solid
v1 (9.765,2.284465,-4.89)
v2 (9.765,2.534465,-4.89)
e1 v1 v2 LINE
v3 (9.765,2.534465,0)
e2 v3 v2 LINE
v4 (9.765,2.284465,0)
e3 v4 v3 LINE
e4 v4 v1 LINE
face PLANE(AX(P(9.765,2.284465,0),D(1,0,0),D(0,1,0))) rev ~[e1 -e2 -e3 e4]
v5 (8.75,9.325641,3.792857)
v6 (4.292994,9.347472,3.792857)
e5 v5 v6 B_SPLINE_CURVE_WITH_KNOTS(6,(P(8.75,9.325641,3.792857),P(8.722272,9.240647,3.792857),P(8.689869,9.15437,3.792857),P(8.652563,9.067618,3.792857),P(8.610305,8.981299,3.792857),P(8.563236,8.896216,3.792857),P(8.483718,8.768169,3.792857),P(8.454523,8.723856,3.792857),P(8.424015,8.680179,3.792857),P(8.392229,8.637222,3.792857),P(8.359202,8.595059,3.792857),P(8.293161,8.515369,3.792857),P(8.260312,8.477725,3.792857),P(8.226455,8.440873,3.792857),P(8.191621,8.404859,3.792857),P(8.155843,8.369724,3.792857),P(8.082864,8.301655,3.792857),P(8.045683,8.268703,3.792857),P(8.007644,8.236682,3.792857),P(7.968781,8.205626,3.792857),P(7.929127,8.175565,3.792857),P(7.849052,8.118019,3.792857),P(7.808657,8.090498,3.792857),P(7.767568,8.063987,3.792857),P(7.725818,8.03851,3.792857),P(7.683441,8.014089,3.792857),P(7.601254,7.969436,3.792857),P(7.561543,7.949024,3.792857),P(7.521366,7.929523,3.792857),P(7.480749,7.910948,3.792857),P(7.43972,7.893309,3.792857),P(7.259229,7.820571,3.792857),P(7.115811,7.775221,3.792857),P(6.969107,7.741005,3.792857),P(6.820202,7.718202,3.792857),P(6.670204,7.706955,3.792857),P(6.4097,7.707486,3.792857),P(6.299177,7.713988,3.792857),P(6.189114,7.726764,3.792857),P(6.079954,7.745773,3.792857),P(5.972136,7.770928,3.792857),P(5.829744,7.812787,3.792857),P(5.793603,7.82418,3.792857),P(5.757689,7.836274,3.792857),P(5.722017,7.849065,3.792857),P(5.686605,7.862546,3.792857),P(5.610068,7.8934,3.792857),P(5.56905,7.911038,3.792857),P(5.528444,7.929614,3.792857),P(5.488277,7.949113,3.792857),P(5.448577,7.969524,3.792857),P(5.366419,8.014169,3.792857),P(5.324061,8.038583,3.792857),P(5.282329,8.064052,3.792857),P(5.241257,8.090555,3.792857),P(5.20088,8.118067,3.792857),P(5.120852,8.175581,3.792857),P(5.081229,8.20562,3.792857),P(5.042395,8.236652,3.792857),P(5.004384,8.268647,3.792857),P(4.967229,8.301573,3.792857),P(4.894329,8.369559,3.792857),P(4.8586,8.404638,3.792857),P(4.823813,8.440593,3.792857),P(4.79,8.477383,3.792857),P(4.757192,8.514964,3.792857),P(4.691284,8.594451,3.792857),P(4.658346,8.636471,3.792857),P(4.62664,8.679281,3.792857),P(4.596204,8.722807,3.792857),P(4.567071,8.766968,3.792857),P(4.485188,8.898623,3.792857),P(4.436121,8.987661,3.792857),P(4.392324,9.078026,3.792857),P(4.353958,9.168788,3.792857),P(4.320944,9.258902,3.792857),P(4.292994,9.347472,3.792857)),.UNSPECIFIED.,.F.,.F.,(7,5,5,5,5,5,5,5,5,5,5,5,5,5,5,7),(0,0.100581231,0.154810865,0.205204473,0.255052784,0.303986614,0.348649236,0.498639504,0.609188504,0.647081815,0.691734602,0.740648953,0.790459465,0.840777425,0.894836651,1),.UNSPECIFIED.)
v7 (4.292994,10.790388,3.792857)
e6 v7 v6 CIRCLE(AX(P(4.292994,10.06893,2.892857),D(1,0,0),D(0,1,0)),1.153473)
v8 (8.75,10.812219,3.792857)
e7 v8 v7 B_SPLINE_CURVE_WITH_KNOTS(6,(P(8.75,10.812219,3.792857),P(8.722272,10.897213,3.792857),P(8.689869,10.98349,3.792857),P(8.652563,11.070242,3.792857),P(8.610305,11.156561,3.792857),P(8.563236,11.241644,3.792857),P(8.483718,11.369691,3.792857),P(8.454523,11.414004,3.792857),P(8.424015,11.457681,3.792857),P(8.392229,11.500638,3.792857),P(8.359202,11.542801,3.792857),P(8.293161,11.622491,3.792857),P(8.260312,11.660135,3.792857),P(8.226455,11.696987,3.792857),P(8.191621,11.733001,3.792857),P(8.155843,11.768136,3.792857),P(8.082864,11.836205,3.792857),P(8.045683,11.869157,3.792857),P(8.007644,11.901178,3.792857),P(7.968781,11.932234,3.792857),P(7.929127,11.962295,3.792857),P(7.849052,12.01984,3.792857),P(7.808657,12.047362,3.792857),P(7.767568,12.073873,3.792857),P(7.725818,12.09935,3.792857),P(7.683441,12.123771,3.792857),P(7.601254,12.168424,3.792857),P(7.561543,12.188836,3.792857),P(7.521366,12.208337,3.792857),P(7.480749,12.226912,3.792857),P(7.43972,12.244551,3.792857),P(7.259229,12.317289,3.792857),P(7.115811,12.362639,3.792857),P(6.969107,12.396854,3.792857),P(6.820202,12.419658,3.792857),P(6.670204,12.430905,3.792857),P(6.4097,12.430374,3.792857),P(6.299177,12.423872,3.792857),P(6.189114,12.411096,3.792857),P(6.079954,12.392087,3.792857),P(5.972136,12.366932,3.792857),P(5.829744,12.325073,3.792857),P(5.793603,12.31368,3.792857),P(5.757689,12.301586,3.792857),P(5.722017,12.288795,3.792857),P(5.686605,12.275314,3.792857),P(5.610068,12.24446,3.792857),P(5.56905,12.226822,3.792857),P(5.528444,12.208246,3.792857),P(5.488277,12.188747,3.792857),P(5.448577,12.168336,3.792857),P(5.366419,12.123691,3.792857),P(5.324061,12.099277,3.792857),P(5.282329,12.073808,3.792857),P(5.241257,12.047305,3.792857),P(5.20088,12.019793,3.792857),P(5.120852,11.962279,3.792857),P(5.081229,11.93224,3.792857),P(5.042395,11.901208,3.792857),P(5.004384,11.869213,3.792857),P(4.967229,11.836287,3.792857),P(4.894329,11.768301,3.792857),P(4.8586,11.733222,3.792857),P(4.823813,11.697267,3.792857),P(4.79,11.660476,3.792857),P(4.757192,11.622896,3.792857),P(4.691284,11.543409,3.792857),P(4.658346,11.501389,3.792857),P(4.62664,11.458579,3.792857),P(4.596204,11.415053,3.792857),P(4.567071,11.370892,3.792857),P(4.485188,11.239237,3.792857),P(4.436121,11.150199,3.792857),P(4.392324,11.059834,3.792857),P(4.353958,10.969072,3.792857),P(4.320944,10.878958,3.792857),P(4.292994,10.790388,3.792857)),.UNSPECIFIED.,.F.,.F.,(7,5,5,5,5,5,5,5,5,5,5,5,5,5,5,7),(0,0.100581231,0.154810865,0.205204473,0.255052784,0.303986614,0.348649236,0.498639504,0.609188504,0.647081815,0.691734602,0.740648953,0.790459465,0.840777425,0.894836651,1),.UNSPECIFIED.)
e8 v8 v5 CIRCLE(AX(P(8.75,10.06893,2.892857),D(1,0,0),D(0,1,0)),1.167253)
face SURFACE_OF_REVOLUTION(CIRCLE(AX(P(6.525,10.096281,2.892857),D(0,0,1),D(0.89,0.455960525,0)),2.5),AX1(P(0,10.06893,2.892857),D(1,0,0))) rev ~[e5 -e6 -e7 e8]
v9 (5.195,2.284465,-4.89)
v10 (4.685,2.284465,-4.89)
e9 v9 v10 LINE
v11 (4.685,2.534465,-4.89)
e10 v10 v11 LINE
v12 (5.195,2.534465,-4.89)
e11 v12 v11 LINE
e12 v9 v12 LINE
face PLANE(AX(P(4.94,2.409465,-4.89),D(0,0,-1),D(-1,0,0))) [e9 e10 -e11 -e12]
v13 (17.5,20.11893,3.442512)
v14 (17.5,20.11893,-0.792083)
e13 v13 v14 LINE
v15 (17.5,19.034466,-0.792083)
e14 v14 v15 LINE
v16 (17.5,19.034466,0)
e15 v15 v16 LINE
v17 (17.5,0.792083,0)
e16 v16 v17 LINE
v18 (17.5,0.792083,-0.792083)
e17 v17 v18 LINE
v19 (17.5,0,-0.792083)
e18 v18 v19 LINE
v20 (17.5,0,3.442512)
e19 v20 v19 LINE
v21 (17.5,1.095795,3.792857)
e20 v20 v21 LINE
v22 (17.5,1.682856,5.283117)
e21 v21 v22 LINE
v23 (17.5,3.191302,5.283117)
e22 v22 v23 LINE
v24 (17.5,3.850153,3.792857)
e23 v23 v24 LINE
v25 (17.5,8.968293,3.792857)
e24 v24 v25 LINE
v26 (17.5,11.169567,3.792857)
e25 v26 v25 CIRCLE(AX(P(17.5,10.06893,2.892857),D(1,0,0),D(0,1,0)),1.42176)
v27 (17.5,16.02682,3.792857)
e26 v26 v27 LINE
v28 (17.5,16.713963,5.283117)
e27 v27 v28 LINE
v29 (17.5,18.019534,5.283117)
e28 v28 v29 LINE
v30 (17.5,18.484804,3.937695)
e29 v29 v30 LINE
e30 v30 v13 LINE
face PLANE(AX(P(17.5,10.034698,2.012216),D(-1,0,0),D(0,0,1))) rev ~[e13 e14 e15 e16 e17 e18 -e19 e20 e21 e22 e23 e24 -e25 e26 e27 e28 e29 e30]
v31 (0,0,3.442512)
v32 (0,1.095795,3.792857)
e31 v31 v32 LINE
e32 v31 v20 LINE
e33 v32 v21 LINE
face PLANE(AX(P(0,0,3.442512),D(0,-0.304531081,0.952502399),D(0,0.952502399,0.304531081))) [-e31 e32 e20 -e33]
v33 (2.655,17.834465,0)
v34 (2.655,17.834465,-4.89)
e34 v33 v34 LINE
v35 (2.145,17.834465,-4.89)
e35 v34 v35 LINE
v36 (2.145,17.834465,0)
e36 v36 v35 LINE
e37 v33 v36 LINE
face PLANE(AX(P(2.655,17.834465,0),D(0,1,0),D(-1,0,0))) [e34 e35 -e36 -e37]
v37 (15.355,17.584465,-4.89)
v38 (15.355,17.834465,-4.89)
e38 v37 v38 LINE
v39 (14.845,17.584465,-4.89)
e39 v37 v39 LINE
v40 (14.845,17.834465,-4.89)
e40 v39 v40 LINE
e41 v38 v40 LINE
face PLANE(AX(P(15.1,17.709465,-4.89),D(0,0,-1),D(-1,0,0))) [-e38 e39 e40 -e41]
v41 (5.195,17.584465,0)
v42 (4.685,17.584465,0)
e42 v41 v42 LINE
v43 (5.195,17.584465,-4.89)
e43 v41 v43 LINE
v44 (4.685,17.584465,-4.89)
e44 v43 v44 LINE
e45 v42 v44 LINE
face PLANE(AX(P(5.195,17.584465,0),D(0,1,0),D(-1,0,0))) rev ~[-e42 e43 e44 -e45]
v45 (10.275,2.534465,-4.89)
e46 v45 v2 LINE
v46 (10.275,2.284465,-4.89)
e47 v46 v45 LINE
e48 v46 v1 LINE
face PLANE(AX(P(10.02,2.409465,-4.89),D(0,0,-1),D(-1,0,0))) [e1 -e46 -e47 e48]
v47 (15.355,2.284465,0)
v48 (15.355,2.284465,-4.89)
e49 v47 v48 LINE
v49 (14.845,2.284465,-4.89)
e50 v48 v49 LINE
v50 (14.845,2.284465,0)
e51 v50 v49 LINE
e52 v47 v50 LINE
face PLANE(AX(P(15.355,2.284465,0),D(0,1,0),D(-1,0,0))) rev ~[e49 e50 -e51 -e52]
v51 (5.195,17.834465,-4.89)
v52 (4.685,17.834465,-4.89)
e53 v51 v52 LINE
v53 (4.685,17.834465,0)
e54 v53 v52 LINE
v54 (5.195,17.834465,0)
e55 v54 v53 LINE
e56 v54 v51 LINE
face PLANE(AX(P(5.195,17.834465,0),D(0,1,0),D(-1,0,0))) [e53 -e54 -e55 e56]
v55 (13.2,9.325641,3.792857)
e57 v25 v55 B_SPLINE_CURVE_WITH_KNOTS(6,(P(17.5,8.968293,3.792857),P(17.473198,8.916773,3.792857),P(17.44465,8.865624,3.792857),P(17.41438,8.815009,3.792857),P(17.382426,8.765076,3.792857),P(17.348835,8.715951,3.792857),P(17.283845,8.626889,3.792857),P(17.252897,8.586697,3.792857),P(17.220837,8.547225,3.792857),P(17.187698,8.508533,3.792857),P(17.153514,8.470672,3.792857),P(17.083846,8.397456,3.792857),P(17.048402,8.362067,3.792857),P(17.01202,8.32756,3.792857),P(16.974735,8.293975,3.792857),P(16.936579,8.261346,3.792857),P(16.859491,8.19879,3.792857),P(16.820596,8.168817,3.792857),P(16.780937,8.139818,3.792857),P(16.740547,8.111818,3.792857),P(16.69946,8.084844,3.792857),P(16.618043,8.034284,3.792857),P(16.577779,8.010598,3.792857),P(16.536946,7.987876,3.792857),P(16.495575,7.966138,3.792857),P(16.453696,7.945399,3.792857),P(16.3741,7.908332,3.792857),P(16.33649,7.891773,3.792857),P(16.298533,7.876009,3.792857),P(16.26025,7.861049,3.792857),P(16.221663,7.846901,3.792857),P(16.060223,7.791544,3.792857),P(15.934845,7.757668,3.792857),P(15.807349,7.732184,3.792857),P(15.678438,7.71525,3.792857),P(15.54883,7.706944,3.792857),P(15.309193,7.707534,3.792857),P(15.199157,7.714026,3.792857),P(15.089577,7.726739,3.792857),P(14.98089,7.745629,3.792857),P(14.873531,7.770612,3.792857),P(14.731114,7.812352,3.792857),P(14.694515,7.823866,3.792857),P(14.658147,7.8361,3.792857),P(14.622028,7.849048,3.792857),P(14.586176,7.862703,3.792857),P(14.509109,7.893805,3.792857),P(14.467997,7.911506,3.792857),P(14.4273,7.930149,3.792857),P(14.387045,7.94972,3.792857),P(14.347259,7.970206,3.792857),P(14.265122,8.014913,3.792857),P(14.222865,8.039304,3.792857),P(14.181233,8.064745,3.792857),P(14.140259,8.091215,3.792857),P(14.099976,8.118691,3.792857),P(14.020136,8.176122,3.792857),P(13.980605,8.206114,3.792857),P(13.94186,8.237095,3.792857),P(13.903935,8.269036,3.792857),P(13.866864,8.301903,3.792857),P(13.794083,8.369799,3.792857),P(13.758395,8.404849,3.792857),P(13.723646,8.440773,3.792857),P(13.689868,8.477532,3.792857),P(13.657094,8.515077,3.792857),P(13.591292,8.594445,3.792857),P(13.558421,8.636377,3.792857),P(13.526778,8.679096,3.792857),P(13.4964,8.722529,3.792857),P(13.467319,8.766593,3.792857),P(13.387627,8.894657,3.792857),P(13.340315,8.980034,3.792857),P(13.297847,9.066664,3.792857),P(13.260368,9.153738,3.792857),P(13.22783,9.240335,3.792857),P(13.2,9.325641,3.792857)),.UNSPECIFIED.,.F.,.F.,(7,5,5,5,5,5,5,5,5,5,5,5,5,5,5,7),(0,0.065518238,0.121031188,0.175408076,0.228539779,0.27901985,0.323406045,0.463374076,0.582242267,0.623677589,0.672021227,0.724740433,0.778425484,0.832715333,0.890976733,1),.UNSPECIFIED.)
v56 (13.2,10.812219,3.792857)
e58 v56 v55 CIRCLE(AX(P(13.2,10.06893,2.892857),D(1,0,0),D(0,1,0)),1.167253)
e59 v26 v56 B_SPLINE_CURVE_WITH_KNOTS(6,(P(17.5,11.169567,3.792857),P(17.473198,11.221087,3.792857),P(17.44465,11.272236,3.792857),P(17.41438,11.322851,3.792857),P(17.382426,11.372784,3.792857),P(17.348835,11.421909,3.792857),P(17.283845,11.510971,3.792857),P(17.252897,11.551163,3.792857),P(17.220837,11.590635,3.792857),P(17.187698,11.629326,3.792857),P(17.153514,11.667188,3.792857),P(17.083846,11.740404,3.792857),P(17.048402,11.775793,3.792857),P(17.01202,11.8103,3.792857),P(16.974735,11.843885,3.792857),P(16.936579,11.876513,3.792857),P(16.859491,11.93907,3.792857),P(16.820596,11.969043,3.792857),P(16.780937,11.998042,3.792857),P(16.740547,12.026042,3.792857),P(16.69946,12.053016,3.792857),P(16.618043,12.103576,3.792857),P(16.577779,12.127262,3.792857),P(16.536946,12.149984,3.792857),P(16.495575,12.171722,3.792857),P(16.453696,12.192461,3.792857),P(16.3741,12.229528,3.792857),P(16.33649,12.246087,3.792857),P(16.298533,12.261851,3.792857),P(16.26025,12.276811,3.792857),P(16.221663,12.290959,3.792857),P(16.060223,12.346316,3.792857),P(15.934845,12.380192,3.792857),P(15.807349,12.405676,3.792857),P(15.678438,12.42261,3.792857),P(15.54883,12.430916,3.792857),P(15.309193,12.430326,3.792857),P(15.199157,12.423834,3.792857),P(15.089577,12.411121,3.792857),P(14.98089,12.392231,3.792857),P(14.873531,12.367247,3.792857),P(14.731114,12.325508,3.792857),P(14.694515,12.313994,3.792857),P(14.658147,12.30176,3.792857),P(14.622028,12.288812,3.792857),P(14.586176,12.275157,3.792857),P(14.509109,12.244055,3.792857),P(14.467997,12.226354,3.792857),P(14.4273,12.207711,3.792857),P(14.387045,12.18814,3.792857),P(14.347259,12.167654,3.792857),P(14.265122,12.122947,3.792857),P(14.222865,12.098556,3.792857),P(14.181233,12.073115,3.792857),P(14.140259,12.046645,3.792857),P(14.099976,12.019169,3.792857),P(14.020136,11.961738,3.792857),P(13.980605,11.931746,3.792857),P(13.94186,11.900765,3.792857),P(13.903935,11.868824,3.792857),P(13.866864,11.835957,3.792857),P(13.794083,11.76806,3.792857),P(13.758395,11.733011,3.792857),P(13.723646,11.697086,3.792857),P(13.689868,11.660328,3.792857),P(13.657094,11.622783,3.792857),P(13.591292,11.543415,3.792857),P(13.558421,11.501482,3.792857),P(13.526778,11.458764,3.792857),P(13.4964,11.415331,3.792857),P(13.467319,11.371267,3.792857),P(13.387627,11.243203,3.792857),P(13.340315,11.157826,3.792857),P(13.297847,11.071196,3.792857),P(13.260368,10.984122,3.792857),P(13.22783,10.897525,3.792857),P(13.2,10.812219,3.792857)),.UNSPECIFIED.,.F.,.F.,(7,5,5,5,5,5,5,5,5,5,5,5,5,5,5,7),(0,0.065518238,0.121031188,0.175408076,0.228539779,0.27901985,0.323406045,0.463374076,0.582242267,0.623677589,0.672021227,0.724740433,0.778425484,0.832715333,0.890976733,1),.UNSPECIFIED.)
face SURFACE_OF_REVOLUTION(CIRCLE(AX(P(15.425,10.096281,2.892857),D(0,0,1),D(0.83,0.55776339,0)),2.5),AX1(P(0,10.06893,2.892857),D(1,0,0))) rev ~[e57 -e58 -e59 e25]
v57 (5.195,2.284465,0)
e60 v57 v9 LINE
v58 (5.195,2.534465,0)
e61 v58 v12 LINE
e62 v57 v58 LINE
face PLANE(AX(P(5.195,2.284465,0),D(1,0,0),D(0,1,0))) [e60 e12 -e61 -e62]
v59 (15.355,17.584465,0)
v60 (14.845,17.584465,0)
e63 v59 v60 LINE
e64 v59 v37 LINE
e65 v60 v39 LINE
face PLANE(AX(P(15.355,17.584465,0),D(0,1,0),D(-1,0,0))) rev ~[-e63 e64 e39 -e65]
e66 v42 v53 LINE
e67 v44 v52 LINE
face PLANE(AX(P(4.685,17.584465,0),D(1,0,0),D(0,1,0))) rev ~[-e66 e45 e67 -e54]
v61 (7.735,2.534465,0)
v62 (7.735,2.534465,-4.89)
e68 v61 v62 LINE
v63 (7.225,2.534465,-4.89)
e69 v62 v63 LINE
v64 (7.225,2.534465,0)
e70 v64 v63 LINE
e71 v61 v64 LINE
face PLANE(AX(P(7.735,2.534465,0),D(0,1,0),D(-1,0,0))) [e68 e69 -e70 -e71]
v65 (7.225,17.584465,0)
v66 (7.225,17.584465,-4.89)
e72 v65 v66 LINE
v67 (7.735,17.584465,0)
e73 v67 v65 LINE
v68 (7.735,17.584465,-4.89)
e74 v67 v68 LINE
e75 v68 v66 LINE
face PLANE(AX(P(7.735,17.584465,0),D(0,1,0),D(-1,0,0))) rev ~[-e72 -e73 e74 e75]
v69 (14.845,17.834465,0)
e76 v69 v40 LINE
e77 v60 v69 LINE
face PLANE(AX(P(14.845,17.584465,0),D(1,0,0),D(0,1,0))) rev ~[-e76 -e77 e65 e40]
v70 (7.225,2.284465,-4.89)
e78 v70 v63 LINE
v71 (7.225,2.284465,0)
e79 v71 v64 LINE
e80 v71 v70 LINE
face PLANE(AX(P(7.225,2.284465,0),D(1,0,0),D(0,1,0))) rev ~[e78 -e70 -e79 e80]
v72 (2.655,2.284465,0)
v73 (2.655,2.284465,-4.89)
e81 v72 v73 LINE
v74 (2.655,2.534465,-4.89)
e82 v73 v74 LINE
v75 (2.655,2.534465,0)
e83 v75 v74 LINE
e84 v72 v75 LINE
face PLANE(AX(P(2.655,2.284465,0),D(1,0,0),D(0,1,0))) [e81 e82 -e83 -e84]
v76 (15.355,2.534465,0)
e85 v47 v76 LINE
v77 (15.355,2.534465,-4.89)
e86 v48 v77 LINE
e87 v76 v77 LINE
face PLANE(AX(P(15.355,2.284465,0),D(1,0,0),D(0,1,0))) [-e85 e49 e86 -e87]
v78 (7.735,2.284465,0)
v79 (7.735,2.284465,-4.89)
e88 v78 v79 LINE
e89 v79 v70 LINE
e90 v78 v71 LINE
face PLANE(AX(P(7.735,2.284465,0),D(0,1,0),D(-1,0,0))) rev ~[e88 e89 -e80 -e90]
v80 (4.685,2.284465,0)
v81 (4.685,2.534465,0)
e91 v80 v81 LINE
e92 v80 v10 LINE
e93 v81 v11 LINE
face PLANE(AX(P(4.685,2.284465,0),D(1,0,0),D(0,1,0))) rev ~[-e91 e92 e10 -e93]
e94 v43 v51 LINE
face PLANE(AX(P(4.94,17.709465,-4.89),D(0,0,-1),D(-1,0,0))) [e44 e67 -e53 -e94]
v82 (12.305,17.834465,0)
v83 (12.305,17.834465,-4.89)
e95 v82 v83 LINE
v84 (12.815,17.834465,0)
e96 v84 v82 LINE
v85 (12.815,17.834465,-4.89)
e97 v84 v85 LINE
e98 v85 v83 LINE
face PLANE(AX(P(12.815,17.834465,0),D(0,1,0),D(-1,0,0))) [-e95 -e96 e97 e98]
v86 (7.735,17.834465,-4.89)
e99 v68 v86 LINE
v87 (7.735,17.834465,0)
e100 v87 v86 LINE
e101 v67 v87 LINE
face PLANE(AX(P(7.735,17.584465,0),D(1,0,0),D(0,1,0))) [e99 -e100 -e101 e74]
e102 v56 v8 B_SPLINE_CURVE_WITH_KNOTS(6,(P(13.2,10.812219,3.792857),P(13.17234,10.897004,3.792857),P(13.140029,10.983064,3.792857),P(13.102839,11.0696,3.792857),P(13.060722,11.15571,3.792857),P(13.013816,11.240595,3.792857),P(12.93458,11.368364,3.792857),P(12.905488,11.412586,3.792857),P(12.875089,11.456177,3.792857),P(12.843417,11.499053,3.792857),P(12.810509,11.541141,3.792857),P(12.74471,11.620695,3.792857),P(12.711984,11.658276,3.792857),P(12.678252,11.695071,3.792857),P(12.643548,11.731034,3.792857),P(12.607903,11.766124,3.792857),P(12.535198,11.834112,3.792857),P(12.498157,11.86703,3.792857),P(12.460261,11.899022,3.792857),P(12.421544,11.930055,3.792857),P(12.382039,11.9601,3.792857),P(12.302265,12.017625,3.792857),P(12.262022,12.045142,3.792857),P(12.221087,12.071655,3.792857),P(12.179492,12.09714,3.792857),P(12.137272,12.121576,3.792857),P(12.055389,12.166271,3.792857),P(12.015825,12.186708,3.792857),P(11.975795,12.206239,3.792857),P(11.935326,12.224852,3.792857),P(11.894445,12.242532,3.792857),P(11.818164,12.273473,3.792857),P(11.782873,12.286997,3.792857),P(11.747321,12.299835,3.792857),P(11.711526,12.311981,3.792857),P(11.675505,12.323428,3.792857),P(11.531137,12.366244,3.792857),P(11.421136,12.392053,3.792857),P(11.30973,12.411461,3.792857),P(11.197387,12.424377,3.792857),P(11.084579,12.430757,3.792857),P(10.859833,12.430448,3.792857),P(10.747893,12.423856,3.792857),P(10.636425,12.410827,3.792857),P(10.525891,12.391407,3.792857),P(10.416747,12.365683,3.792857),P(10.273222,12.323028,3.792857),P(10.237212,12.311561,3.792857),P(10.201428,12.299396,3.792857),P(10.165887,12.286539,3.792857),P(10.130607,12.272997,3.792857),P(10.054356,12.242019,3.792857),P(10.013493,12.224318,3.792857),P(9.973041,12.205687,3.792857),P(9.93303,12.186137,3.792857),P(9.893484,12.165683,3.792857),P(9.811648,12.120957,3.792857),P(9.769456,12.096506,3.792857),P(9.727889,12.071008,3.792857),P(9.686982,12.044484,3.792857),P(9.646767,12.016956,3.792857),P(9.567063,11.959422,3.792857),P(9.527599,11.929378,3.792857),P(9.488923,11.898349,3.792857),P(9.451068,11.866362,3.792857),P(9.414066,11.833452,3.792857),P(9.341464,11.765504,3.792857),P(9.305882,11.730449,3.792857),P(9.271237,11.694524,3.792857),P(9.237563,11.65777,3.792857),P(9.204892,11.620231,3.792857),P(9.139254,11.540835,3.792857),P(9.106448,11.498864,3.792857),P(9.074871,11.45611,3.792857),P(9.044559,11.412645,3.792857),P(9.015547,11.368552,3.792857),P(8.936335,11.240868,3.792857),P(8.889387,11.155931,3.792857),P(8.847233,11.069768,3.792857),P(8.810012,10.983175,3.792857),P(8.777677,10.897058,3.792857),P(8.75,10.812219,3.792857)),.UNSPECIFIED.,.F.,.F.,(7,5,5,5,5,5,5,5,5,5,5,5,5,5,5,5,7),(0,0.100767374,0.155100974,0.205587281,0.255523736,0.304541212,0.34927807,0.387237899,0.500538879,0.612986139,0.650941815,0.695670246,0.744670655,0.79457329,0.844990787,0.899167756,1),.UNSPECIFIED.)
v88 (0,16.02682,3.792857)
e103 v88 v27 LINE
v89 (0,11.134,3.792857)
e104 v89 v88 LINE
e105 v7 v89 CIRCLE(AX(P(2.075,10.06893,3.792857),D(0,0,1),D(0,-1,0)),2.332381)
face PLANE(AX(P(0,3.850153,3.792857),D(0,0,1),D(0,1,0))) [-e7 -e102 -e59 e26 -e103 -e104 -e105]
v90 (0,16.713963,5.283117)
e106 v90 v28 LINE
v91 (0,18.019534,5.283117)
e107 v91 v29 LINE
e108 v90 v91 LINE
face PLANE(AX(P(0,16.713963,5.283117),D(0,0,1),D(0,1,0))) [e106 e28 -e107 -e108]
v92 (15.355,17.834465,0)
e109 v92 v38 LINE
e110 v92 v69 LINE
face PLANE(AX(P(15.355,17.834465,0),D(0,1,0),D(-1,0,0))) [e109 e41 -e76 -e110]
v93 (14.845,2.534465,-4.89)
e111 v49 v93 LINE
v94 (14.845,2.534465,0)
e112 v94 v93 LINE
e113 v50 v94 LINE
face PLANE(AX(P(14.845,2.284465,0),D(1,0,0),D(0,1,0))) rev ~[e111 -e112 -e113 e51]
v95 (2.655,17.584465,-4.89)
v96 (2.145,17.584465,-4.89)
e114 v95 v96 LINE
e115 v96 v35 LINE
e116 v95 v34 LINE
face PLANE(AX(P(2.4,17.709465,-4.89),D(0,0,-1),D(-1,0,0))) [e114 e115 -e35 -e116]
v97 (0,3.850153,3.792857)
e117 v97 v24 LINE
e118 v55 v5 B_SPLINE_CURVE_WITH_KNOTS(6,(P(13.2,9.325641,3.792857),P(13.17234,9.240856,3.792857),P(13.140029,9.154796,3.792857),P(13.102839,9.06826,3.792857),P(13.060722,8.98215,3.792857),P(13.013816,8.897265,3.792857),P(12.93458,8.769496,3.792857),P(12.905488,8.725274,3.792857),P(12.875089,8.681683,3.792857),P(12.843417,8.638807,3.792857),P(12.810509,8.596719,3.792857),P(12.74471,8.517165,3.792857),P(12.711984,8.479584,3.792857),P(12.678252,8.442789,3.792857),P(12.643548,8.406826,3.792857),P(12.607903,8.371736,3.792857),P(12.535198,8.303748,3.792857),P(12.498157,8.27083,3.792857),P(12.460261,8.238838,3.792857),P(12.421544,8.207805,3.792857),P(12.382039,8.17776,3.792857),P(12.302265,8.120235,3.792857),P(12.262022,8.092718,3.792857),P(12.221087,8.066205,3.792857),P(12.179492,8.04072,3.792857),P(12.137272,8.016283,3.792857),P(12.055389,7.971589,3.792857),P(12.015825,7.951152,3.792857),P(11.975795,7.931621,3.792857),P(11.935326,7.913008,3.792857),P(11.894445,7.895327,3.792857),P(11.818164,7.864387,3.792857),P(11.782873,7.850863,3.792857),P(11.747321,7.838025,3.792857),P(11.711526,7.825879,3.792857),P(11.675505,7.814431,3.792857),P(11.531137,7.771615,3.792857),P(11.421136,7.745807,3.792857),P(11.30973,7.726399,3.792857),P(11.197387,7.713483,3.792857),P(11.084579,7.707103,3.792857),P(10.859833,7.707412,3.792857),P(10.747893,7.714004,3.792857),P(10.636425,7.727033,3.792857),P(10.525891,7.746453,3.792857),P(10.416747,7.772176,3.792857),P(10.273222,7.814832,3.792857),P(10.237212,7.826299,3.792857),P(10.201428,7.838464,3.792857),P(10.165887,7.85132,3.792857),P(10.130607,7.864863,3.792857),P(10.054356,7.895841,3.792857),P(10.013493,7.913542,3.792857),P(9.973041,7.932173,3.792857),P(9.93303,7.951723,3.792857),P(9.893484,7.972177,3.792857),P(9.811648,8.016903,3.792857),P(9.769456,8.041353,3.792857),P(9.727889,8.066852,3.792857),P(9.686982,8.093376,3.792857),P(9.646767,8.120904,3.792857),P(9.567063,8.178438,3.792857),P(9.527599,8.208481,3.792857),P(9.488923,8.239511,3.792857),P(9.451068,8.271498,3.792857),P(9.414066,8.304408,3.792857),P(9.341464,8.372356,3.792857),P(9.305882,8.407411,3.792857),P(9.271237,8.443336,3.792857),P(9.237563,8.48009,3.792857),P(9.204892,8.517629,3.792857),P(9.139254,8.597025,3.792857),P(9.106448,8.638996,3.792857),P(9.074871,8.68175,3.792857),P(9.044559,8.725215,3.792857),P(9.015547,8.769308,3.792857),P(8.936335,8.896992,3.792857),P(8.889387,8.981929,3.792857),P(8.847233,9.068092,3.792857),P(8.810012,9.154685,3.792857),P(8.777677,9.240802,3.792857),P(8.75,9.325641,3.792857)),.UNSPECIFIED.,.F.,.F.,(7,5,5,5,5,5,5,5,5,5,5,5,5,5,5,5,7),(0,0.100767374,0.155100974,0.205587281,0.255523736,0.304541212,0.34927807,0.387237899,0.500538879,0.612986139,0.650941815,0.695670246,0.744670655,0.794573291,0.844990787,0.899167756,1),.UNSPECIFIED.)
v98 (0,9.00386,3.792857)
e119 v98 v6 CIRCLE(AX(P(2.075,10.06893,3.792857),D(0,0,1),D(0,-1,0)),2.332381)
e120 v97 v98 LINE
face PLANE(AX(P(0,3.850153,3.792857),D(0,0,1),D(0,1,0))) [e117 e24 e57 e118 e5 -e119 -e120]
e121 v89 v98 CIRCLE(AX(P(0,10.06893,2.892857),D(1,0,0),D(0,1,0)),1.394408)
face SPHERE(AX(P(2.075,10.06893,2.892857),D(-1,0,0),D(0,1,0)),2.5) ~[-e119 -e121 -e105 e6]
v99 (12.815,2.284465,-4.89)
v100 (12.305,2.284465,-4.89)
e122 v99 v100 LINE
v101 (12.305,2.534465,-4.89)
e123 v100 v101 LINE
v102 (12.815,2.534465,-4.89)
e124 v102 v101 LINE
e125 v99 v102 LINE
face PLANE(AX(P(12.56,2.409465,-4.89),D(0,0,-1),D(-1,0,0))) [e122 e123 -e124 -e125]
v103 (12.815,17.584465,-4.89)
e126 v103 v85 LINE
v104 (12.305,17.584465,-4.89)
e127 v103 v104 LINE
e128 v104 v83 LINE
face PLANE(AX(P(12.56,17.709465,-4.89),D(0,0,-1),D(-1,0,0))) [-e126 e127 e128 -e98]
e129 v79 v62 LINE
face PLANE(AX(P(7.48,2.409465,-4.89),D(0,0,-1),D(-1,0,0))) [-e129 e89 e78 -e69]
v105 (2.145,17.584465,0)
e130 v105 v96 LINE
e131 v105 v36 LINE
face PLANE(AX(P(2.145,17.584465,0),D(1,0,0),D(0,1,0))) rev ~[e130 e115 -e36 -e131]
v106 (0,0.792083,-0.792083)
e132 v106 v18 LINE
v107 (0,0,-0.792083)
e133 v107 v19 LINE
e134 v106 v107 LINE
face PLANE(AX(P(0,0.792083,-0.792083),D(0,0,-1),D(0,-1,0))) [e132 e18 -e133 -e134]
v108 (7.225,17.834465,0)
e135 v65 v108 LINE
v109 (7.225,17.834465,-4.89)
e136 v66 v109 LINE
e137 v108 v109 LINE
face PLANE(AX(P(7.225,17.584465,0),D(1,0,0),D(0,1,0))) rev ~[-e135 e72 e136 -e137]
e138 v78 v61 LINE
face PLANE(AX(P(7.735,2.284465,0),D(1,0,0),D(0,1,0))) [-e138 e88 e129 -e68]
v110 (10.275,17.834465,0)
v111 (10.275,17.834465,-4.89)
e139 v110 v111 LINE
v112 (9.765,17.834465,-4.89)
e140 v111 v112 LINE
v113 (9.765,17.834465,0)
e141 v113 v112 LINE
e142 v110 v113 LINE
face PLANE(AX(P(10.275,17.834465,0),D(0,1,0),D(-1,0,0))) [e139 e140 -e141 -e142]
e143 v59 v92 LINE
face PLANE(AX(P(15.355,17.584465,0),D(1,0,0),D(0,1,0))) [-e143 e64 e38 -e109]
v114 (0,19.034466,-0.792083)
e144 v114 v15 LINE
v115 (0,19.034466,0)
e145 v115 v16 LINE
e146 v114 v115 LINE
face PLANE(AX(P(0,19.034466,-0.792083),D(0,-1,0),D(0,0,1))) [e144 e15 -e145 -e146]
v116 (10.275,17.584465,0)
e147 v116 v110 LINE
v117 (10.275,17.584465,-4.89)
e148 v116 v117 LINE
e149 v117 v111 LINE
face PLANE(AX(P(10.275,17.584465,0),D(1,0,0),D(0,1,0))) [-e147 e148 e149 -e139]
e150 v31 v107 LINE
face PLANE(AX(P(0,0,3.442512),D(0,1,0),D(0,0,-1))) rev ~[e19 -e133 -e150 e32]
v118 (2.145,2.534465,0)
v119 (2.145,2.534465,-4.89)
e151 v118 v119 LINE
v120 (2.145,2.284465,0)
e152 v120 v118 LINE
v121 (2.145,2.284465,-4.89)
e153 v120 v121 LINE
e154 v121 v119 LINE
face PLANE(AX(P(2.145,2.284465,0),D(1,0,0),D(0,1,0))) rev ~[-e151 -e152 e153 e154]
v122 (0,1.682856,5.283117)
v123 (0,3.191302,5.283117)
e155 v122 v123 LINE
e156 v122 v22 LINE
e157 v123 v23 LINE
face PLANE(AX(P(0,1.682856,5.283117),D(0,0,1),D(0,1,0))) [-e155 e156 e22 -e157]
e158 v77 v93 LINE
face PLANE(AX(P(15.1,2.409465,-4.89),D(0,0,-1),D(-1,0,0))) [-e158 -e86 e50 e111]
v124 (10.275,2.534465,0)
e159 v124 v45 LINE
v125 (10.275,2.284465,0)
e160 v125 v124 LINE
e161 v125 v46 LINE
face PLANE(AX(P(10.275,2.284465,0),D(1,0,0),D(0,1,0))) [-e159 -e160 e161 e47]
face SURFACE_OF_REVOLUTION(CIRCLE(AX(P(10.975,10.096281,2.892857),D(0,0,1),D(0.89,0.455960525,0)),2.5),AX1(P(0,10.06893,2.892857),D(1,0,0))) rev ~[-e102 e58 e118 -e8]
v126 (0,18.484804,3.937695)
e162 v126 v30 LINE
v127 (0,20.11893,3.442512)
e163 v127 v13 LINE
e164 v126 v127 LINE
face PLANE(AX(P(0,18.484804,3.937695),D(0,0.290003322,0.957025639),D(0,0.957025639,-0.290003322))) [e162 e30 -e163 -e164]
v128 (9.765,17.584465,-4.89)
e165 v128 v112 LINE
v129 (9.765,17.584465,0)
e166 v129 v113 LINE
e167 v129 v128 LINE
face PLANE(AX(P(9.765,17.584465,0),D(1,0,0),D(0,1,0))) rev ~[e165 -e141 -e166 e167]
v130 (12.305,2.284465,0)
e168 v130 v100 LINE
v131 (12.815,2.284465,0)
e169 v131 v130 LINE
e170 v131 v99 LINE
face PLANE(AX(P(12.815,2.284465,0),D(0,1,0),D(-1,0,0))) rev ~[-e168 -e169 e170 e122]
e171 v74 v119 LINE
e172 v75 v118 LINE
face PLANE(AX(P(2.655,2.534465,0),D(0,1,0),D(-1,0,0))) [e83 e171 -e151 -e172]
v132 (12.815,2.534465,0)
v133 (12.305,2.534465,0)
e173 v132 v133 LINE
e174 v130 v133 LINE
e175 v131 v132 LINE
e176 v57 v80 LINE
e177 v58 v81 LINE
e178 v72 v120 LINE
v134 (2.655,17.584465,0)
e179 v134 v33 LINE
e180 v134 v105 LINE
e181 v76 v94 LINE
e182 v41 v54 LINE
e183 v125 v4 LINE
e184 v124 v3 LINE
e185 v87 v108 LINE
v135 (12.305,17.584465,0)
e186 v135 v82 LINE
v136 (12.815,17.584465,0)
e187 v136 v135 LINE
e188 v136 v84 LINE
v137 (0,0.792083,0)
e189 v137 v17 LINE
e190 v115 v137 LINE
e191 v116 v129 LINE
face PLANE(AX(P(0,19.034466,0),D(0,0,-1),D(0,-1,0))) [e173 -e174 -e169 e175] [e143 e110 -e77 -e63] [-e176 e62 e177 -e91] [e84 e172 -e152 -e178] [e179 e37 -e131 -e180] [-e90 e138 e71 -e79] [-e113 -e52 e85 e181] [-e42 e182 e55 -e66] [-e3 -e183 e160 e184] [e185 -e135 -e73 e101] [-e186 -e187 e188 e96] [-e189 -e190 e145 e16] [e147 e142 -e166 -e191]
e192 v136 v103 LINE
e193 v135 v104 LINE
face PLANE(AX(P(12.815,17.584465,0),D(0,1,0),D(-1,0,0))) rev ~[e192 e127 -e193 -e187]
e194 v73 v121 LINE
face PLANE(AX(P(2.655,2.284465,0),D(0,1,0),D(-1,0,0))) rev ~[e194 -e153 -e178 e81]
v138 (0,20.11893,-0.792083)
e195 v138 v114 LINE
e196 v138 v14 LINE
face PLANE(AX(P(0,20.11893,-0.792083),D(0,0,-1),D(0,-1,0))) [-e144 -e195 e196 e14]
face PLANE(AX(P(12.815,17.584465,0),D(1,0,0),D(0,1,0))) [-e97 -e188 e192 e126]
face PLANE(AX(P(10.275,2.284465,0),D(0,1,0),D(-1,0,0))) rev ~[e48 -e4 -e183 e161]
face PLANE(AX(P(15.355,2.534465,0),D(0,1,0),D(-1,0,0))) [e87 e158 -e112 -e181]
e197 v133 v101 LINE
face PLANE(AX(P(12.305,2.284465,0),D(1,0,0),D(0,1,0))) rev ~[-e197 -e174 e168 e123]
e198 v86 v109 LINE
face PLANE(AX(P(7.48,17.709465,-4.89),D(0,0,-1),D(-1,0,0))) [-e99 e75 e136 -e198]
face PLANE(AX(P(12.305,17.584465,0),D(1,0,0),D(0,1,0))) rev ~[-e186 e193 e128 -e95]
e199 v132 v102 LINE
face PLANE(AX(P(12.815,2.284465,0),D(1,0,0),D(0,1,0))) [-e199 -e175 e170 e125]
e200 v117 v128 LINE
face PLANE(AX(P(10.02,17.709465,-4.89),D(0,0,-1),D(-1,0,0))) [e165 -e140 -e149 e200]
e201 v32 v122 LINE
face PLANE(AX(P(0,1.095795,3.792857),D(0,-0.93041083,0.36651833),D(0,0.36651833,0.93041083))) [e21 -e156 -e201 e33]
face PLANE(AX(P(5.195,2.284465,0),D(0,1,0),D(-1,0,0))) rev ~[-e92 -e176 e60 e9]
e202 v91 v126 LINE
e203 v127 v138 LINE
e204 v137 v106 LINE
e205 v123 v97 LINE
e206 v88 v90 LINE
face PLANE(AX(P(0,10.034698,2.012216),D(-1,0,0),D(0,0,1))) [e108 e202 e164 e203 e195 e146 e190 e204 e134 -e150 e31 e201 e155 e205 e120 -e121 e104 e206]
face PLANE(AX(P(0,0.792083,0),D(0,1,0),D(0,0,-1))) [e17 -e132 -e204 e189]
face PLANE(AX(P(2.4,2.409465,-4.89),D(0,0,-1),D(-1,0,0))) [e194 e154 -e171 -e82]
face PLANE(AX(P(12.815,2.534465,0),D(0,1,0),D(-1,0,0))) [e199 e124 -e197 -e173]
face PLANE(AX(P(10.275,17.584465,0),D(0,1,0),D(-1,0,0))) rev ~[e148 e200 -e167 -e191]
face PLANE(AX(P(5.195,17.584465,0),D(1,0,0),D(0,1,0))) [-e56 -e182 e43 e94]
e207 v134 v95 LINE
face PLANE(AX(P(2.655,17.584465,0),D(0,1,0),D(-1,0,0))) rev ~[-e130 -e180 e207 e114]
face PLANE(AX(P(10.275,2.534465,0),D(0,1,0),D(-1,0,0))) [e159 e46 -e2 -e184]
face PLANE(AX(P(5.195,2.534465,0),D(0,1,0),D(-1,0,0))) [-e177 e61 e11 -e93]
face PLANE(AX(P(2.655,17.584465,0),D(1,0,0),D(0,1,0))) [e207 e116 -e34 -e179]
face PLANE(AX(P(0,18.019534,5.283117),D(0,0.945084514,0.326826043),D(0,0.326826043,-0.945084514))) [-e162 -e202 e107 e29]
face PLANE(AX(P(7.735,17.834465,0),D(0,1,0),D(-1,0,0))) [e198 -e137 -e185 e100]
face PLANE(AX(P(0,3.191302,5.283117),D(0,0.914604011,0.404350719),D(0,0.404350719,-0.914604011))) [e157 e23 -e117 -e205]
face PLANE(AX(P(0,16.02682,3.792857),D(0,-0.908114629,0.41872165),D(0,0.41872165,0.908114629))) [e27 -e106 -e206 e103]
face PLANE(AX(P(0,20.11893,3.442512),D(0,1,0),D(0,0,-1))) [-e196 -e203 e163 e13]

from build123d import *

# Parameters (mm, degrees)
EXTRUDE_1_DEPTH = 17.5
SKETCH_6_W      = 0.51
SKETCH_6_H      = 0.25
EXTRUDE_2_DEPTH = 4.89


with BuildPart() as part:
    # 草图2 → 凸台-拉伸1 (new body)
    with BuildSketch(Plane(origin=(0, 0, 0), x_dir=(0, 0, -1), z_dir=(1, 0, 0))):
        Polygon((-3.442512479, 20.118929979), (0.792082517, 20.118929979), (0.792082517, 19.034466272), (0, 19.034466272), (0, 0.792082517), (0.792082517, 0.792082517), (0.792082517, 0), (0, 0), (-3.442512479, 0), (-3.79285667, 1.095795152), (-5.283117125, 1.682856003), (-5.283117125, 3.191302286), (-3.79285667, 3.850153416), (-3.79285667, 16.026820243), (-5.283117125, 16.71396292), (-5.283117125, 18.019534007), (-3.937694697, 18.484803601), align=None)
    extrude(amount=EXTRUDE_1_DEPTH)

    # 草图5 → 旋转8 (revolve)
    with BuildSketch(Plane.XY.offset(2.89285667)):
        with BuildLine():
            Line((0, 10.068929979), (17.5, 10.068929979))
            Line((17.5, 10.068929979), (17.5, 11.490689909))
            ThreePointArc((17.5, 11.490689909), (15.277289221, 12.591913923), (13.2, 11.236182744))
            ThreePointArc((13.2, 11.236182744), (10.975, 12.596281432), (8.75, 11.236182744))
            ThreePointArc((8.75, 11.236182744), (6.517271028, 12.596269485), (4.292994354, 11.222403449))
            ThreePointArc((4.292994354, 11.222403449), (2.215086636, 12.56500204), (0, 11.463338455))
            Line((0, 11.463338455), (0, 10.068929979))
        make_face()
    revolve(axis=Axis((0, 10.068929979, 2.89285667), (1, 0, 0)))

    # 草图6 → 凸台-拉伸2 (add)
    with BuildSketch(Plane(origin=(0, 0, 0), x_dir=(-1, 0, 0), z_dir=(0, 0, -1))):
        with Locations((-12.56, 17.709464989)):
            Rectangle(SKETCH_6_W, SKETCH_6_H)
        with Locations((-15.1, 17.709464989)):
            Rectangle(SKETCH_6_W, SKETCH_6_H)
        with Locations((-10.02, 17.709464989)):
            Rectangle(SKETCH_6_W, SKETCH_6_H)
        with Locations((-7.48, 17.709464989)):
            Rectangle(SKETCH_6_W, SKETCH_6_H)
        with Locations((-4.94, 17.709464989)):
            Rectangle(SKETCH_6_W, SKETCH_6_H)
        with Locations((-2.4, 17.709464989)):
            Rectangle(SKETCH_6_W, SKETCH_6_H)
        with Locations((-15.1, 2.409464989)):
            Rectangle(SKETCH_6_W, SKETCH_6_H)
        with Locations((-12.56, 2.409464989)):
            Rectangle(SKETCH_6_W, SKETCH_6_H)
        with Locations((-10.02, 2.409464989)):
            Rectangle(SKETCH_6_W, SKETCH_6_H)
        with Locations((-7.48, 2.409464989)):
            Rectangle(SKETCH_6_W, SKETCH_6_H)
        with Locations((-4.94, 2.409464989)):
            Rectangle(SKETCH_6_W, SKETCH_6_H)
        with Locations((-2.4, 2.409464989)):
            Rectangle(SKETCH_6_W, SKETCH_6_H)
    extrude(amount=EXTRUDE_2_DEPTH)


solid = part.part
